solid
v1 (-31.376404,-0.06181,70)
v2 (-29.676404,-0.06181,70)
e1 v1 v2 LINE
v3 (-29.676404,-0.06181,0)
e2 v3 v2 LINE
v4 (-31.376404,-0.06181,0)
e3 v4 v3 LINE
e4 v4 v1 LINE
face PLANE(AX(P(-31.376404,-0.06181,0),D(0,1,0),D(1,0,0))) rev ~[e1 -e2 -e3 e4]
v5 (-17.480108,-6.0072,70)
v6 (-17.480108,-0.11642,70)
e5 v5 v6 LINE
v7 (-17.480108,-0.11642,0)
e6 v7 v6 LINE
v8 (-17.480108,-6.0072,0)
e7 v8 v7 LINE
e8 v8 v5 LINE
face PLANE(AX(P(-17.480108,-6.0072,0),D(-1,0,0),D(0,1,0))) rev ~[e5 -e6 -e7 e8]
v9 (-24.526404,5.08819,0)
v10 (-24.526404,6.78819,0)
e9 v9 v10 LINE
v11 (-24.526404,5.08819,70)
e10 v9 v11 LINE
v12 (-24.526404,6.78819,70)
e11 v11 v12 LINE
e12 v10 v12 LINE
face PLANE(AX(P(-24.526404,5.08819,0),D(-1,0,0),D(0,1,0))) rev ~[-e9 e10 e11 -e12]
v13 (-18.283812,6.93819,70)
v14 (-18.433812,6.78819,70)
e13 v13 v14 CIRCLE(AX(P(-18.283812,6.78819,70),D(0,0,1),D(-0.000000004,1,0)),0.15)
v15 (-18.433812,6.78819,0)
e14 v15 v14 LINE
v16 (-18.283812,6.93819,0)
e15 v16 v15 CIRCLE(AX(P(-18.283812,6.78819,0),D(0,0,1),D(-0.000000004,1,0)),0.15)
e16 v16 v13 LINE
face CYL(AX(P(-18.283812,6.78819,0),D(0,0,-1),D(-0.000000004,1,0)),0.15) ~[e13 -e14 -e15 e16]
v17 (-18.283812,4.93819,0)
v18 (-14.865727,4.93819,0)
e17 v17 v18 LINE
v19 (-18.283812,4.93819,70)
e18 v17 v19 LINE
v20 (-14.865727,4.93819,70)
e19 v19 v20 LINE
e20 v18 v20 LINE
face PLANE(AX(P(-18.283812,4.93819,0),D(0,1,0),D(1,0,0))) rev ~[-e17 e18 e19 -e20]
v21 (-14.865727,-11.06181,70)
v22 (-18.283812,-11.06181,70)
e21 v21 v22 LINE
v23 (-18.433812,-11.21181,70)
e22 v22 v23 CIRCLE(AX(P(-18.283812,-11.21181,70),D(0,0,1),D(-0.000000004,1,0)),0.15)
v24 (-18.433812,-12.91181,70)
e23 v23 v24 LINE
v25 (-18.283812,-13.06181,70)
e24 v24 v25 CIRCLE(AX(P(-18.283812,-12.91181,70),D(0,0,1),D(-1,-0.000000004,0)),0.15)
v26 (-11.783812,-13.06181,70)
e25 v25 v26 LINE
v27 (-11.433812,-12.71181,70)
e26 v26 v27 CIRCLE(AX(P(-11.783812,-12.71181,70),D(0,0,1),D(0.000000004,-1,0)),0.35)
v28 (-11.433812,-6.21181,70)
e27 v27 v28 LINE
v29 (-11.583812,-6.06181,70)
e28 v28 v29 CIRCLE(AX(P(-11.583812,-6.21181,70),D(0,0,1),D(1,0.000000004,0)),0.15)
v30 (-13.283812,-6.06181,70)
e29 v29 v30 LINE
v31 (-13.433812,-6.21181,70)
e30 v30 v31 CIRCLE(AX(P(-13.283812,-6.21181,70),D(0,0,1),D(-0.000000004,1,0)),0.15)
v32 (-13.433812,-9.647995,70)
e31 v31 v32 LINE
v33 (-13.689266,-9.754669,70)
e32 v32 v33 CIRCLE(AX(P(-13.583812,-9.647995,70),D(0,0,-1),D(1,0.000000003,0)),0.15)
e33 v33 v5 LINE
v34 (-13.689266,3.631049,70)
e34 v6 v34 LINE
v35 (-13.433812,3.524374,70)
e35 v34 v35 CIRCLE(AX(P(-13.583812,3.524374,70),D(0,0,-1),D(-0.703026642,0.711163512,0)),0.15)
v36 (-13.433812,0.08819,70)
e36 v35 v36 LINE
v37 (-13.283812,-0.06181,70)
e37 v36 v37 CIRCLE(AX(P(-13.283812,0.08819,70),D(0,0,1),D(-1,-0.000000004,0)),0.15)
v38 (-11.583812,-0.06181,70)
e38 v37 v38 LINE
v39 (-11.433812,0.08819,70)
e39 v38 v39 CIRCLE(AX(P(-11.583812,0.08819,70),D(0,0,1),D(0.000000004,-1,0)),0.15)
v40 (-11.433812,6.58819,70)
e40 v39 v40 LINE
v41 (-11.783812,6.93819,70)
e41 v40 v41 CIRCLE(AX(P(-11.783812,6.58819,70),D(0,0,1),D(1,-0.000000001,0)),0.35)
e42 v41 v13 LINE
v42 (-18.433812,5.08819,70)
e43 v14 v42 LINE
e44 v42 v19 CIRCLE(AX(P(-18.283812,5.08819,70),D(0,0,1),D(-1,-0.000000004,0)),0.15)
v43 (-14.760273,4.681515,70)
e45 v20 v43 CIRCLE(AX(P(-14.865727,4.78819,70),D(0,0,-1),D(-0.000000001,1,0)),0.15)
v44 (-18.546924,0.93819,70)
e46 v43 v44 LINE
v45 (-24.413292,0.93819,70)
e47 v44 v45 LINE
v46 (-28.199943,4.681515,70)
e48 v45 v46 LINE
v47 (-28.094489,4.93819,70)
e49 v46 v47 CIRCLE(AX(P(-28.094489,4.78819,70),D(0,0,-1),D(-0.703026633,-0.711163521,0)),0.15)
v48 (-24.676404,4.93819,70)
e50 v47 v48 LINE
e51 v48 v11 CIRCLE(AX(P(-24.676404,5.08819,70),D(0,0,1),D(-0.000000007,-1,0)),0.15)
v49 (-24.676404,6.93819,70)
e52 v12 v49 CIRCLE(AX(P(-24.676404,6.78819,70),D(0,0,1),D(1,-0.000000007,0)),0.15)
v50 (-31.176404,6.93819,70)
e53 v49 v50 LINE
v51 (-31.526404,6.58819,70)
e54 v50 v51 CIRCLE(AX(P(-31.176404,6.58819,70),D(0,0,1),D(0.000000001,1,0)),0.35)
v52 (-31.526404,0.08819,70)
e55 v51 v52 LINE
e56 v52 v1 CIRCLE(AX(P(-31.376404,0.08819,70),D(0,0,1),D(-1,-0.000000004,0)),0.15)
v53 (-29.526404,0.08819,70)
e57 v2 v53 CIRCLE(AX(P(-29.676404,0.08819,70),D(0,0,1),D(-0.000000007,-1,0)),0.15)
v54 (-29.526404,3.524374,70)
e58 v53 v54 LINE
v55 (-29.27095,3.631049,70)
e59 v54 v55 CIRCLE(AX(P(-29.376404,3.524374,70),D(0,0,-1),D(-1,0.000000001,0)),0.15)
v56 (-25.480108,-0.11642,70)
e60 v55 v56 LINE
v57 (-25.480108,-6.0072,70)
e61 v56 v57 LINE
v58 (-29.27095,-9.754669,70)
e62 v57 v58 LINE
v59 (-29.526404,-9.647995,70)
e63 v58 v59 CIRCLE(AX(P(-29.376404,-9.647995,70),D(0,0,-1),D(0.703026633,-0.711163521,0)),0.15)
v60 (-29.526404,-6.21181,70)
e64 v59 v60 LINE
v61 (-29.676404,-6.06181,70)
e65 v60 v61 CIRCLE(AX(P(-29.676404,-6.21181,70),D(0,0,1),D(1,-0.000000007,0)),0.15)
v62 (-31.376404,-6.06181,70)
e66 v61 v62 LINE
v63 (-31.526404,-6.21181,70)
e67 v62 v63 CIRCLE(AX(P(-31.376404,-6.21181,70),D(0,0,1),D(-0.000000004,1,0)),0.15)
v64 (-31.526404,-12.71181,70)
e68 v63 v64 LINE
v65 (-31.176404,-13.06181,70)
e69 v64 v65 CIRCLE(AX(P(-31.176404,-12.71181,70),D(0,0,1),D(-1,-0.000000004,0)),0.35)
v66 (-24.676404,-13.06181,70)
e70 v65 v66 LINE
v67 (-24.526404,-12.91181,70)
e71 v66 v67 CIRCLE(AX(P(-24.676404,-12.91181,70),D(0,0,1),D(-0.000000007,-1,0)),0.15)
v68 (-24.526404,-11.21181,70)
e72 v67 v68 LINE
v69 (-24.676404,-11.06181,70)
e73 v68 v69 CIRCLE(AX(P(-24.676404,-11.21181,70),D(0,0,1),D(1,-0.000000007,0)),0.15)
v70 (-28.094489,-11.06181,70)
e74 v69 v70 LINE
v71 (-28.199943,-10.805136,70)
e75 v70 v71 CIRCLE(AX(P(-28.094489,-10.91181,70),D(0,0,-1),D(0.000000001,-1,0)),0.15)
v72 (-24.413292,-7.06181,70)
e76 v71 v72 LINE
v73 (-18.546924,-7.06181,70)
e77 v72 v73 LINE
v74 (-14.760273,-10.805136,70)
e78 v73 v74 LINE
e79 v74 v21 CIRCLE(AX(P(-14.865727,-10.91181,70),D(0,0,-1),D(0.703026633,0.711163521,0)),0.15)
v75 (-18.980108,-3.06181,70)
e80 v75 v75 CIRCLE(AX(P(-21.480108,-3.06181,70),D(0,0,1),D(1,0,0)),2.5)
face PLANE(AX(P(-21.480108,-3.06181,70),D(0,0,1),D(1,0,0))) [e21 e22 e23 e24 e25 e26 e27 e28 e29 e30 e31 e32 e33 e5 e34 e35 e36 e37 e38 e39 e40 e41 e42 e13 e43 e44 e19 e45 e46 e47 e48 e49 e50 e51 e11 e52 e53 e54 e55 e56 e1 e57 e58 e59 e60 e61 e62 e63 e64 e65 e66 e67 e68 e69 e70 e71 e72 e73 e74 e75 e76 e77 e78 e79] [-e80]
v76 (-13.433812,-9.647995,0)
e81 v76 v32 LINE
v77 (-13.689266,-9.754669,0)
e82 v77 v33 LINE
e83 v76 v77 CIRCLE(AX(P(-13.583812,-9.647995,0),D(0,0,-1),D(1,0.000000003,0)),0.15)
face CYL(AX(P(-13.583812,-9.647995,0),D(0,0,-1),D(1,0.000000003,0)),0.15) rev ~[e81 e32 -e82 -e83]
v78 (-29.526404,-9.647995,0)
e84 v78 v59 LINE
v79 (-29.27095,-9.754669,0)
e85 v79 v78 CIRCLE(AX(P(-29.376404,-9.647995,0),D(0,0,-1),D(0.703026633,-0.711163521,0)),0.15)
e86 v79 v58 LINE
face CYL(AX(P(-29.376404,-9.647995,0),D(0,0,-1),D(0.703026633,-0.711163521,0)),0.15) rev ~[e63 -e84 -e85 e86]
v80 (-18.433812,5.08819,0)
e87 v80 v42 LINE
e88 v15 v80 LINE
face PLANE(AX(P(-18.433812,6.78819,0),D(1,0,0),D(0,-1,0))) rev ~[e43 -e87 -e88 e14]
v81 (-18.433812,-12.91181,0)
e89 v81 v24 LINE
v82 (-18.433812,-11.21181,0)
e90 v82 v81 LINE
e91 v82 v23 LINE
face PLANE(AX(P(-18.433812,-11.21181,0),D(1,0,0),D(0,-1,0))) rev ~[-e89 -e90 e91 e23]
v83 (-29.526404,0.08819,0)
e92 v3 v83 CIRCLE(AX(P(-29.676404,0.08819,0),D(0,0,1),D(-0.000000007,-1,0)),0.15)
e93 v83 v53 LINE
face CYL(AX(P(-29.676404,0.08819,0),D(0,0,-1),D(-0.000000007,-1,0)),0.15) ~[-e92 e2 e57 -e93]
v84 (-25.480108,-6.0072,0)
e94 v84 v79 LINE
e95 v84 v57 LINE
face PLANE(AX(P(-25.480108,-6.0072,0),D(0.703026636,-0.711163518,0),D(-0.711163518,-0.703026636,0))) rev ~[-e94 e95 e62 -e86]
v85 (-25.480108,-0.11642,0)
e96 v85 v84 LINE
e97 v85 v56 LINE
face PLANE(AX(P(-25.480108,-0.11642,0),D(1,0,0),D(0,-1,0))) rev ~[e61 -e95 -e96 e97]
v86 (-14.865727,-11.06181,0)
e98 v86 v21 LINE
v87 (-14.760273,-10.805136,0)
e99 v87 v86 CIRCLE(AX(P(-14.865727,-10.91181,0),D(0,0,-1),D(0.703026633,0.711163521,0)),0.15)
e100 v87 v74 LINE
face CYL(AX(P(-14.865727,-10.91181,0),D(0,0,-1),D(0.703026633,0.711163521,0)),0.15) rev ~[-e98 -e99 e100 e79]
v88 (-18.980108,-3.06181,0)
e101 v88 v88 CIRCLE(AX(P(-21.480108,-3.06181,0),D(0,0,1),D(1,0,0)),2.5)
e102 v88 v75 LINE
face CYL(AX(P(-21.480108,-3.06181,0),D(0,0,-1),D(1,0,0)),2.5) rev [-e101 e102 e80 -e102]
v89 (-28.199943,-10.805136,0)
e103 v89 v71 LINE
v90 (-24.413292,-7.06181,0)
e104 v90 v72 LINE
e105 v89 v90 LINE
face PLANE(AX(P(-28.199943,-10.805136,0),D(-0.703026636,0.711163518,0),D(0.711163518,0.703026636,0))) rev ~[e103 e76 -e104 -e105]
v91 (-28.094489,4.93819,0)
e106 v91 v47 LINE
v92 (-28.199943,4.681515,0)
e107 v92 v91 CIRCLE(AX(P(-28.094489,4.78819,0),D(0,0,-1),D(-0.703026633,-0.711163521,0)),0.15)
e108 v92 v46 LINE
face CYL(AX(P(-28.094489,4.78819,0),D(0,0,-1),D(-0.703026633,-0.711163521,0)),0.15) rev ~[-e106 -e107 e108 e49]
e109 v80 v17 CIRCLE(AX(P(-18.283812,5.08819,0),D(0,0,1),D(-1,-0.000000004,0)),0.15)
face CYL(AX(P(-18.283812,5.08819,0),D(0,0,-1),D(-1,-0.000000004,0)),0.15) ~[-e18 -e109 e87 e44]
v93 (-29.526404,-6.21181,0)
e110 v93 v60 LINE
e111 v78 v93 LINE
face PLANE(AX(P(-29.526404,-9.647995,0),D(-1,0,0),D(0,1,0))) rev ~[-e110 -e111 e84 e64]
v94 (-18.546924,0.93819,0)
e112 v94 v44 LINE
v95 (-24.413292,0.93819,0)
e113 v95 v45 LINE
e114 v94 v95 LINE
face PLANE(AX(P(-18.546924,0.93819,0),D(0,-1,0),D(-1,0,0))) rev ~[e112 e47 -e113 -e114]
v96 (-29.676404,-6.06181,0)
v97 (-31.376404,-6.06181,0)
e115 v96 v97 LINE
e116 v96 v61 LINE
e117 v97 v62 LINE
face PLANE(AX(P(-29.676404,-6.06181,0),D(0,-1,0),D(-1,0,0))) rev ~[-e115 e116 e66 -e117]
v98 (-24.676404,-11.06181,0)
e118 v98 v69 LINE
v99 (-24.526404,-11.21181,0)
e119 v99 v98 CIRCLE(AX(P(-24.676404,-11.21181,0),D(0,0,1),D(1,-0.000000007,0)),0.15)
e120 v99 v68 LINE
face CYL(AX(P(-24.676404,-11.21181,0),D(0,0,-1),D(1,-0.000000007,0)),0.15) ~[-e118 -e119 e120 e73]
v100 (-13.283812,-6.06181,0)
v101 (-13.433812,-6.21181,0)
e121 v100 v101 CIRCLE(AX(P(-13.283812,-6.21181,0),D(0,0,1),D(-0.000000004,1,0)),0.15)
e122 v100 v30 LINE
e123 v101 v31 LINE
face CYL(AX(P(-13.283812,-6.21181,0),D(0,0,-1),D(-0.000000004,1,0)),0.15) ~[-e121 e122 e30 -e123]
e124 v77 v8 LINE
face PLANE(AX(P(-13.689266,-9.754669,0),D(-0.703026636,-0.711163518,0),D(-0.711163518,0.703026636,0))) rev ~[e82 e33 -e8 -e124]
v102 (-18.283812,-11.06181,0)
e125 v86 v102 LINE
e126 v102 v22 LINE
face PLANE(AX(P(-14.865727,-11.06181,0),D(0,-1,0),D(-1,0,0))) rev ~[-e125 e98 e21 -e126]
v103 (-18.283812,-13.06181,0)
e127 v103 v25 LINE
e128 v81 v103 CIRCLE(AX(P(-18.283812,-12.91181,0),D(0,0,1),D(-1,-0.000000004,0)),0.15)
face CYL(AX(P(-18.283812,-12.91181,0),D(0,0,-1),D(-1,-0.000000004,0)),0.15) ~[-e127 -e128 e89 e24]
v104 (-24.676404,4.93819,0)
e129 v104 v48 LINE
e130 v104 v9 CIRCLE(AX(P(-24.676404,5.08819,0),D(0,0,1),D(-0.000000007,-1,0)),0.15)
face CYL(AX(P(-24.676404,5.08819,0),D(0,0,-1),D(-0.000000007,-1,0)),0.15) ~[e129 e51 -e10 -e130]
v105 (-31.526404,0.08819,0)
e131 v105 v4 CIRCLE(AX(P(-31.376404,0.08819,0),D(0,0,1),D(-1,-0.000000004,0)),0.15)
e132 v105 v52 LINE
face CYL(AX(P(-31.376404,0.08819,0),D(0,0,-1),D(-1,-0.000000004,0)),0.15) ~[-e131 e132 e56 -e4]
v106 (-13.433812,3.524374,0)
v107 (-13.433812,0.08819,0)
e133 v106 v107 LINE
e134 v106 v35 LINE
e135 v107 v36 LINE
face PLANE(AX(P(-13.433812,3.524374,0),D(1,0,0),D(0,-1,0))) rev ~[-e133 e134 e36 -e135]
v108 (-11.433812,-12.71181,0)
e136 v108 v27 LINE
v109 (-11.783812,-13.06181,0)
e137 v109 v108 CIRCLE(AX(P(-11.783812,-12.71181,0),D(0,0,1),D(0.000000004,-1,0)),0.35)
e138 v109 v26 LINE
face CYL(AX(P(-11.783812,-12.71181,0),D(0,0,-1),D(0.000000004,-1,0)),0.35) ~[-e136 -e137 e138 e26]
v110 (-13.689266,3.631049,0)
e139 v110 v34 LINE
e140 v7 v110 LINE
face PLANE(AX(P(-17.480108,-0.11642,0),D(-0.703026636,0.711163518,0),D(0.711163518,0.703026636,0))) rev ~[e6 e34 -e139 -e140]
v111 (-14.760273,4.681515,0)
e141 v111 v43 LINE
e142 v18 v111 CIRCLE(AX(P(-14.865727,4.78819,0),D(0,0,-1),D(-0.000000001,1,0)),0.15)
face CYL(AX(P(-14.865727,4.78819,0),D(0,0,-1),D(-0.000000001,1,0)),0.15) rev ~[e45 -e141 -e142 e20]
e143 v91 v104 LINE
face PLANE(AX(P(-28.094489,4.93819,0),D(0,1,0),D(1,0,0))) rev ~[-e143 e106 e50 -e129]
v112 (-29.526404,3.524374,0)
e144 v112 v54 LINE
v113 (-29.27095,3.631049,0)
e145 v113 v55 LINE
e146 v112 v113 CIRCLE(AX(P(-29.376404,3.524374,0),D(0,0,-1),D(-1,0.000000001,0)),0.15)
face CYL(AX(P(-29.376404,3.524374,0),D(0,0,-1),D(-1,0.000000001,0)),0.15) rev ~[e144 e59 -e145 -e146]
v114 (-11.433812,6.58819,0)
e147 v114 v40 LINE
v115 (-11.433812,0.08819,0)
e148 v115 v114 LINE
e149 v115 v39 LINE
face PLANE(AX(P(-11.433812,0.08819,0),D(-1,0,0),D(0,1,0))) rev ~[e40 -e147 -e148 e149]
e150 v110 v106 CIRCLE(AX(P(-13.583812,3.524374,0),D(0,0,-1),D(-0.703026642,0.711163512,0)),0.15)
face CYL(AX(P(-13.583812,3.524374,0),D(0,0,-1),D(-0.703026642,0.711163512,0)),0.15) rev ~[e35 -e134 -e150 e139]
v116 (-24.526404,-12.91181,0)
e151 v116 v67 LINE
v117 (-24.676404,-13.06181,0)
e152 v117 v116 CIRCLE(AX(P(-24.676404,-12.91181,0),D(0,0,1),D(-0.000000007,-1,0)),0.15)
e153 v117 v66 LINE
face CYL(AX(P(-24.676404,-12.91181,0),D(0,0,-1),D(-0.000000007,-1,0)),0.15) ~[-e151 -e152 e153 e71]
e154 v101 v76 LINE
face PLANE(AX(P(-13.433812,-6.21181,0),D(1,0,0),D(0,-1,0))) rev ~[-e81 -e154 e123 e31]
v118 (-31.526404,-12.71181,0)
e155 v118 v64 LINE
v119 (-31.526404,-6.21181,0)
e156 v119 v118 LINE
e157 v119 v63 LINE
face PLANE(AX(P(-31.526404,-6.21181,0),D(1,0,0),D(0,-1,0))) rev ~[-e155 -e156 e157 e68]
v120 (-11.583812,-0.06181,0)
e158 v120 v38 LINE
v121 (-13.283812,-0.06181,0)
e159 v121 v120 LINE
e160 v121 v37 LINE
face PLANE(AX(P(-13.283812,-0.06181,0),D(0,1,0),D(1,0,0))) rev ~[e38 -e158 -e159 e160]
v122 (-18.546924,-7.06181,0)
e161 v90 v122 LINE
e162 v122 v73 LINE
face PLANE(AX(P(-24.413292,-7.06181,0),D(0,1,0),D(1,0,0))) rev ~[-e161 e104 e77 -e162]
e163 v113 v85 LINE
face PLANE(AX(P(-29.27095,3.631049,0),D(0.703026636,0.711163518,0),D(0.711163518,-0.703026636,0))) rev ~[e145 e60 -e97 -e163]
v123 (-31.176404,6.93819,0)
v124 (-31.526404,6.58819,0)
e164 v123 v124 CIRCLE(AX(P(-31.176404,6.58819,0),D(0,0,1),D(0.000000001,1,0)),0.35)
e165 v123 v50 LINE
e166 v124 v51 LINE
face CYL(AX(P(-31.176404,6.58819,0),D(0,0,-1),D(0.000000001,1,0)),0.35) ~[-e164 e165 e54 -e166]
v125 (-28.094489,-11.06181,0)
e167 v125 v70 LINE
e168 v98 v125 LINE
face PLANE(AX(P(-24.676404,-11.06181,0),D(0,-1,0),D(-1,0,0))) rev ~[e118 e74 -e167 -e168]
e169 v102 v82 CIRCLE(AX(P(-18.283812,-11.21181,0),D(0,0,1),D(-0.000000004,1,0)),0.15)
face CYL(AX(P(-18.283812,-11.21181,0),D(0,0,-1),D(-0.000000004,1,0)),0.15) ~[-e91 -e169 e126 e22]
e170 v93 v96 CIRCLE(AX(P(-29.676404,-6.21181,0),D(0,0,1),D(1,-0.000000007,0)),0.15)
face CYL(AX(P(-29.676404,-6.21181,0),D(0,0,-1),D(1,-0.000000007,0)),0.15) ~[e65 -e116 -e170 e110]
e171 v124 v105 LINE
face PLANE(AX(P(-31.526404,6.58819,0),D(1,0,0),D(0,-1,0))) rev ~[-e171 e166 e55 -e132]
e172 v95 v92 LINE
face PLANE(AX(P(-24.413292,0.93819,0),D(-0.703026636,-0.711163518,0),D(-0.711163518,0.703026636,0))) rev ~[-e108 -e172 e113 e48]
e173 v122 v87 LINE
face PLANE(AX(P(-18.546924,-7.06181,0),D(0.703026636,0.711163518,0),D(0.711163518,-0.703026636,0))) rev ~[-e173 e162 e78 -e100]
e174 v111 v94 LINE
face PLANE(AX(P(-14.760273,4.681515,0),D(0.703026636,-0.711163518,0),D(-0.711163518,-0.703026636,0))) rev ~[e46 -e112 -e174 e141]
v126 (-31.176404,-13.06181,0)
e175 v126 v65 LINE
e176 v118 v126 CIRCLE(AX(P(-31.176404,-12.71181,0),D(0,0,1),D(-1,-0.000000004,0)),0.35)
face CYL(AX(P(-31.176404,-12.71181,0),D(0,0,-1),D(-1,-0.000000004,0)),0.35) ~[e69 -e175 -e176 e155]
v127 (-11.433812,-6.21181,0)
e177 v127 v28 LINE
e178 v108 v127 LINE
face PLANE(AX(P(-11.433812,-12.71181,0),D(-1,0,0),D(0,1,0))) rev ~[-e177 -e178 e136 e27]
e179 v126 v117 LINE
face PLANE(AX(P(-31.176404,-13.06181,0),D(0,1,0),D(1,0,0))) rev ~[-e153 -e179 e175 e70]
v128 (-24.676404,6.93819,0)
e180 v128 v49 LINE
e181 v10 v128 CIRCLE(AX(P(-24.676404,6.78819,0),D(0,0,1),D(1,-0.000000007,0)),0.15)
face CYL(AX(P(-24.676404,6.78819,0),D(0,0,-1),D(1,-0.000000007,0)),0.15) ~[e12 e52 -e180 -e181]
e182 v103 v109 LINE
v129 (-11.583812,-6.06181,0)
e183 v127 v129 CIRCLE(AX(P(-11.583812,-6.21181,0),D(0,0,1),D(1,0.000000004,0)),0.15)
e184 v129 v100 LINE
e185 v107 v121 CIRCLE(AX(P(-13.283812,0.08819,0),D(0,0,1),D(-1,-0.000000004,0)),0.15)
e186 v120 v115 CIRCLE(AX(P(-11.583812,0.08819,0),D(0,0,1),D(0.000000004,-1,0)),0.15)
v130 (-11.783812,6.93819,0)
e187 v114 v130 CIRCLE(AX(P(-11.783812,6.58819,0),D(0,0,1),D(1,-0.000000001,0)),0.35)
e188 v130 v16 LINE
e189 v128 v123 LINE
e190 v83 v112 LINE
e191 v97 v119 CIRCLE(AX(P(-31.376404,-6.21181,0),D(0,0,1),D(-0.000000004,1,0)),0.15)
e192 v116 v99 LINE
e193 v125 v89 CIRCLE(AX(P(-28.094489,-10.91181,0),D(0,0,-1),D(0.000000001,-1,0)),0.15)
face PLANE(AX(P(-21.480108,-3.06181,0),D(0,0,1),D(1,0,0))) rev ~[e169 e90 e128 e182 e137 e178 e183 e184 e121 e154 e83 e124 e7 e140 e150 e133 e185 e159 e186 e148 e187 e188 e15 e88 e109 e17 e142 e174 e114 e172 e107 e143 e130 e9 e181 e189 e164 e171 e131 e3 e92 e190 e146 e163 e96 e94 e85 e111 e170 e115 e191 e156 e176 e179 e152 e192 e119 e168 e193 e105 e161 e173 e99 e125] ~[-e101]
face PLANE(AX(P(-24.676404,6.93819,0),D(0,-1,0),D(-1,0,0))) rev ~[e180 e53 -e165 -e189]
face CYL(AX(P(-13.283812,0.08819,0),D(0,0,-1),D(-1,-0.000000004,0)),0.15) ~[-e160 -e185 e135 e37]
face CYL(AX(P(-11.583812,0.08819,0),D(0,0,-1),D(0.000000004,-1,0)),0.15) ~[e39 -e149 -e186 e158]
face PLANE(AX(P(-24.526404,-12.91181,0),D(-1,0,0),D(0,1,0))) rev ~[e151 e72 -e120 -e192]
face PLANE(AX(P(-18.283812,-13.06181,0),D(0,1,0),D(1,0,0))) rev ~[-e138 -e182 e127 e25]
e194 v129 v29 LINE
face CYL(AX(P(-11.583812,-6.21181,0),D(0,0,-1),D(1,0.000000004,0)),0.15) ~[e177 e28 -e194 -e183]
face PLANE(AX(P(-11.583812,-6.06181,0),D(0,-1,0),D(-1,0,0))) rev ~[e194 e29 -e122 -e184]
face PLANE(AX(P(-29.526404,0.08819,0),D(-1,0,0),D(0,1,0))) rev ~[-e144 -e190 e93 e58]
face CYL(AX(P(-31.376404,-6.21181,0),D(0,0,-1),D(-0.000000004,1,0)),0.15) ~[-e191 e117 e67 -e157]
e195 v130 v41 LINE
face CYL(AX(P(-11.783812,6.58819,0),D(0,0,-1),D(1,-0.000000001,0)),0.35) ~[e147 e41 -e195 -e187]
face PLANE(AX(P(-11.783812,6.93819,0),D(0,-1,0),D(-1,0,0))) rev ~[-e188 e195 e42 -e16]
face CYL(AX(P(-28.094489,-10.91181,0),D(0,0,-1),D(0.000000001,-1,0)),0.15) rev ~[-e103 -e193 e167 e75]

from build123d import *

# Parameters (mm, degrees)
SKETCH1_R           = 2.5
BOSS_EXTRUDE1_DEPTH = 70


with BuildPart() as part:
    # Sketch1 → Boss-Extrude1 (new body)
    with BuildSketch(Plane.XY):
        with BuildLine():
            Line((-31.376404226, -0.06181021), (-29.676404226, -0.06181021))
            ThreePointArc((-29.676404226, -0.06181021), (-29.570338208, -0.017876227), (-29.526404226, 0.08818979))
            Line((-29.526404226, 0.08818979), (-29.526404226, 3.524374304))
            ThreePointArc((-29.526404226, 3.524374304), (-29.43420518, 3.662790523), (-29.27095023, 3.631048831))
            Line((-29.27095023, 3.631048831), (-25.480107929, -0.116419988))
            Line((-25.480107929, -0.116419988), (-25.480107929, -6.007200432))
            Line((-25.480107929, -6.007200432), (-29.27095023, -9.754669251))
            ThreePointArc((-29.27095023, -9.754669251), (-29.43420518, -9.786410942), (-29.526404226, -9.647994723))
            Line((-29.526404226, -9.647994723), (-29.526404226, -6.21181021))
            ThreePointArc((-29.526404226, -6.21181021), (-29.570338208, -6.105744193), (-29.676404226, -6.06181021))
            Line((-29.676404226, -6.06181021), (-31.376404226, -6.06181021))
            ThreePointArc((-31.376404226, -6.06181021), (-31.482470243, -6.105744193), (-31.526404226, -6.21181021))
            Line((-31.526404226, -6.21181021), (-31.526404226, -12.71181021))
            ThreePointArc((-31.526404226, -12.71181021), (-31.423891599, -12.959297583), (-31.176404226, -13.06181021))
            Line((-31.176404226, -13.06181021), (-24.676404226, -13.06181021))
            ThreePointArc((-24.676404226, -13.06181021), (-24.570338208, -13.017876227), (-24.526404226, -12.91181021))
            Line((-24.526404226, -12.91181021), (-24.526404226, -11.21181021))
            ThreePointArc((-24.526404226, -11.21181021), (-24.570338208, -11.105744193), (-24.676404226, -11.06181021))
            Line((-24.676404226, -11.06181021), (-28.094489023, -11.06181021))
            ThreePointArc((-28.094489023, -11.06181021), (-28.233235517, -10.96881381), (-28.199943018, -10.805135682))
            Line((-28.199943018, -10.805135682), (-24.41329202, -7.06181021))
            Line((-24.41329202, -7.06181021), (-18.546923839, -7.06181021))
            Line((-18.546923839, -7.06181021), (-14.760272841, -10.805135682))
            ThreePointArc((-14.760272841, -10.805135682), (-14.726980342, -10.96881381), (-14.865726836, -11.06181021))
            Line((-14.865726836, -11.06181021), (-18.283811633, -11.06181021))
            ThreePointArc((-18.283811633, -11.06181021), (-18.38987765, -11.105744193), (-18.433811633, -11.21181021))
            Line((-18.433811633, -11.21181021), (-18.433811633, -12.91181021))
            ThreePointArc((-18.433811633, -12.91181021), (-18.38987765, -13.017876227), (-18.283811633, -13.06181021))
            Line((-18.283811633, -13.06181021), (-11.783811633, -13.06181021))
            ThreePointArc((-11.783811633, -13.06181021), (-11.53632426, -12.959297583), (-11.433811633, -12.71181021))
            Line((-11.433811633, -12.71181021), (-11.433811633, -6.21181021))
            ThreePointArc((-11.433811633, -6.21181021), (-11.477745616, -6.105744193), (-11.583811633, -6.06181021))
            Line((-11.583811633, -6.06181021), (-13.283811633, -6.06181021))
            ThreePointArc((-13.283811633, -6.06181021), (-13.38987765, -6.105744193), (-13.433811633, -6.21181021))
            Line((-13.433811633, -6.21181021), (-13.433811633, -9.647994723))
            ThreePointArc((-13.433811633, -9.647994723), (-13.526010678, -9.786410942), (-13.689265628, -9.754669251))
            Line((-13.689265628, -9.754669251), (-17.480107929, -6.007200432))
            Line((-17.480107929, -6.007200432), (-17.480107929, -0.116419988))
            Line((-17.480107929, -0.116419988), (-13.689265628, 3.631048831))
            ThreePointArc((-13.689265628, 3.631048831), (-13.526010678, 3.662790523), (-13.433811633, 3.524374304))
            Line((-13.433811633, 3.524374304), (-13.433811633, 0.08818979))
            ThreePointArc((-13.433811633, 0.08818979), (-13.38987765, -0.017876227), (-13.283811633, -0.06181021))
            Line((-13.283811633, -0.06181021), (-11.583811633, -0.06181021))
            ThreePointArc((-11.583811633, -0.06181021), (-11.477745616, -0.017876227), (-11.433811633, 0.08818979))
            Line((-11.433811633, 0.08818979), (-11.433811633, 6.58818979))
            ThreePointArc((-11.433811633, 6.58818979), (-11.53632426, 6.835677164), (-11.783811633, 6.93818979))
            Line((-11.783811633, 6.93818979), (-18.283811633, 6.93818979))
            ThreePointArc((-18.283811633, 6.93818979), (-18.38987765, 6.894255807), (-18.433811633, 6.78818979))
            Line((-18.433811633, 6.78818979), (-18.433811633, 5.08818979))
            ThreePointArc((-18.433811633, 5.08818979), (-18.38987765, 4.982123773), (-18.283811633, 4.93818979))
            Line((-18.283811633, 4.93818979), (-14.865726836, 4.93818979))
            ThreePointArc((-14.865726836, 4.93818979), (-14.726980342, 4.84519339), (-14.760272841, 4.681515262))
            Line((-14.760272841, 4.681515262), (-18.546923839, 0.93818979))
            Line((-18.546923839, 0.93818979), (-24.41329202, 0.93818979))
            Line((-24.41329202, 0.93818979), (-28.199943018, 4.681515262))
            ThreePointArc((-28.199943018, 4.681515262), (-28.233235517, 4.84519339), (-28.094489023, 4.93818979))
            Line((-28.094489023, 4.93818979), (-24.676404226, 4.93818979))
            ThreePointArc((-24.676404226, 4.93818979), (-24.570338208, 4.982123773), (-24.526404226, 5.08818979))
            Line((-24.526404226, 5.08818979), (-24.526404226, 6.78818979))
            ThreePointArc((-24.526404226, 6.78818979), (-24.570338208, 6.894255807), (-24.676404226, 6.93818979))
            Line((-24.676404226, 6.93818979), (-31.176404226, 6.93818979))
            ThreePointArc((-31.176404226, 6.93818979), (-31.423891599, 6.835677164), (-31.526404226, 6.58818979))
            Line((-31.526404226, 6.58818979), (-31.526404226, 0.08818979))
            ThreePointArc((-31.526404226, 0.08818979), (-31.482470243, -0.017876227), (-31.376404226, -0.06181021))
        make_face()
        with Locations((-21.480107929, -3.06181021)):
            Circle(SKETCH1_R, mode=Mode.SUBTRACT)
    extrude(amount=BOSS_EXTRUDE1_DEPTH)


solid = part.part
